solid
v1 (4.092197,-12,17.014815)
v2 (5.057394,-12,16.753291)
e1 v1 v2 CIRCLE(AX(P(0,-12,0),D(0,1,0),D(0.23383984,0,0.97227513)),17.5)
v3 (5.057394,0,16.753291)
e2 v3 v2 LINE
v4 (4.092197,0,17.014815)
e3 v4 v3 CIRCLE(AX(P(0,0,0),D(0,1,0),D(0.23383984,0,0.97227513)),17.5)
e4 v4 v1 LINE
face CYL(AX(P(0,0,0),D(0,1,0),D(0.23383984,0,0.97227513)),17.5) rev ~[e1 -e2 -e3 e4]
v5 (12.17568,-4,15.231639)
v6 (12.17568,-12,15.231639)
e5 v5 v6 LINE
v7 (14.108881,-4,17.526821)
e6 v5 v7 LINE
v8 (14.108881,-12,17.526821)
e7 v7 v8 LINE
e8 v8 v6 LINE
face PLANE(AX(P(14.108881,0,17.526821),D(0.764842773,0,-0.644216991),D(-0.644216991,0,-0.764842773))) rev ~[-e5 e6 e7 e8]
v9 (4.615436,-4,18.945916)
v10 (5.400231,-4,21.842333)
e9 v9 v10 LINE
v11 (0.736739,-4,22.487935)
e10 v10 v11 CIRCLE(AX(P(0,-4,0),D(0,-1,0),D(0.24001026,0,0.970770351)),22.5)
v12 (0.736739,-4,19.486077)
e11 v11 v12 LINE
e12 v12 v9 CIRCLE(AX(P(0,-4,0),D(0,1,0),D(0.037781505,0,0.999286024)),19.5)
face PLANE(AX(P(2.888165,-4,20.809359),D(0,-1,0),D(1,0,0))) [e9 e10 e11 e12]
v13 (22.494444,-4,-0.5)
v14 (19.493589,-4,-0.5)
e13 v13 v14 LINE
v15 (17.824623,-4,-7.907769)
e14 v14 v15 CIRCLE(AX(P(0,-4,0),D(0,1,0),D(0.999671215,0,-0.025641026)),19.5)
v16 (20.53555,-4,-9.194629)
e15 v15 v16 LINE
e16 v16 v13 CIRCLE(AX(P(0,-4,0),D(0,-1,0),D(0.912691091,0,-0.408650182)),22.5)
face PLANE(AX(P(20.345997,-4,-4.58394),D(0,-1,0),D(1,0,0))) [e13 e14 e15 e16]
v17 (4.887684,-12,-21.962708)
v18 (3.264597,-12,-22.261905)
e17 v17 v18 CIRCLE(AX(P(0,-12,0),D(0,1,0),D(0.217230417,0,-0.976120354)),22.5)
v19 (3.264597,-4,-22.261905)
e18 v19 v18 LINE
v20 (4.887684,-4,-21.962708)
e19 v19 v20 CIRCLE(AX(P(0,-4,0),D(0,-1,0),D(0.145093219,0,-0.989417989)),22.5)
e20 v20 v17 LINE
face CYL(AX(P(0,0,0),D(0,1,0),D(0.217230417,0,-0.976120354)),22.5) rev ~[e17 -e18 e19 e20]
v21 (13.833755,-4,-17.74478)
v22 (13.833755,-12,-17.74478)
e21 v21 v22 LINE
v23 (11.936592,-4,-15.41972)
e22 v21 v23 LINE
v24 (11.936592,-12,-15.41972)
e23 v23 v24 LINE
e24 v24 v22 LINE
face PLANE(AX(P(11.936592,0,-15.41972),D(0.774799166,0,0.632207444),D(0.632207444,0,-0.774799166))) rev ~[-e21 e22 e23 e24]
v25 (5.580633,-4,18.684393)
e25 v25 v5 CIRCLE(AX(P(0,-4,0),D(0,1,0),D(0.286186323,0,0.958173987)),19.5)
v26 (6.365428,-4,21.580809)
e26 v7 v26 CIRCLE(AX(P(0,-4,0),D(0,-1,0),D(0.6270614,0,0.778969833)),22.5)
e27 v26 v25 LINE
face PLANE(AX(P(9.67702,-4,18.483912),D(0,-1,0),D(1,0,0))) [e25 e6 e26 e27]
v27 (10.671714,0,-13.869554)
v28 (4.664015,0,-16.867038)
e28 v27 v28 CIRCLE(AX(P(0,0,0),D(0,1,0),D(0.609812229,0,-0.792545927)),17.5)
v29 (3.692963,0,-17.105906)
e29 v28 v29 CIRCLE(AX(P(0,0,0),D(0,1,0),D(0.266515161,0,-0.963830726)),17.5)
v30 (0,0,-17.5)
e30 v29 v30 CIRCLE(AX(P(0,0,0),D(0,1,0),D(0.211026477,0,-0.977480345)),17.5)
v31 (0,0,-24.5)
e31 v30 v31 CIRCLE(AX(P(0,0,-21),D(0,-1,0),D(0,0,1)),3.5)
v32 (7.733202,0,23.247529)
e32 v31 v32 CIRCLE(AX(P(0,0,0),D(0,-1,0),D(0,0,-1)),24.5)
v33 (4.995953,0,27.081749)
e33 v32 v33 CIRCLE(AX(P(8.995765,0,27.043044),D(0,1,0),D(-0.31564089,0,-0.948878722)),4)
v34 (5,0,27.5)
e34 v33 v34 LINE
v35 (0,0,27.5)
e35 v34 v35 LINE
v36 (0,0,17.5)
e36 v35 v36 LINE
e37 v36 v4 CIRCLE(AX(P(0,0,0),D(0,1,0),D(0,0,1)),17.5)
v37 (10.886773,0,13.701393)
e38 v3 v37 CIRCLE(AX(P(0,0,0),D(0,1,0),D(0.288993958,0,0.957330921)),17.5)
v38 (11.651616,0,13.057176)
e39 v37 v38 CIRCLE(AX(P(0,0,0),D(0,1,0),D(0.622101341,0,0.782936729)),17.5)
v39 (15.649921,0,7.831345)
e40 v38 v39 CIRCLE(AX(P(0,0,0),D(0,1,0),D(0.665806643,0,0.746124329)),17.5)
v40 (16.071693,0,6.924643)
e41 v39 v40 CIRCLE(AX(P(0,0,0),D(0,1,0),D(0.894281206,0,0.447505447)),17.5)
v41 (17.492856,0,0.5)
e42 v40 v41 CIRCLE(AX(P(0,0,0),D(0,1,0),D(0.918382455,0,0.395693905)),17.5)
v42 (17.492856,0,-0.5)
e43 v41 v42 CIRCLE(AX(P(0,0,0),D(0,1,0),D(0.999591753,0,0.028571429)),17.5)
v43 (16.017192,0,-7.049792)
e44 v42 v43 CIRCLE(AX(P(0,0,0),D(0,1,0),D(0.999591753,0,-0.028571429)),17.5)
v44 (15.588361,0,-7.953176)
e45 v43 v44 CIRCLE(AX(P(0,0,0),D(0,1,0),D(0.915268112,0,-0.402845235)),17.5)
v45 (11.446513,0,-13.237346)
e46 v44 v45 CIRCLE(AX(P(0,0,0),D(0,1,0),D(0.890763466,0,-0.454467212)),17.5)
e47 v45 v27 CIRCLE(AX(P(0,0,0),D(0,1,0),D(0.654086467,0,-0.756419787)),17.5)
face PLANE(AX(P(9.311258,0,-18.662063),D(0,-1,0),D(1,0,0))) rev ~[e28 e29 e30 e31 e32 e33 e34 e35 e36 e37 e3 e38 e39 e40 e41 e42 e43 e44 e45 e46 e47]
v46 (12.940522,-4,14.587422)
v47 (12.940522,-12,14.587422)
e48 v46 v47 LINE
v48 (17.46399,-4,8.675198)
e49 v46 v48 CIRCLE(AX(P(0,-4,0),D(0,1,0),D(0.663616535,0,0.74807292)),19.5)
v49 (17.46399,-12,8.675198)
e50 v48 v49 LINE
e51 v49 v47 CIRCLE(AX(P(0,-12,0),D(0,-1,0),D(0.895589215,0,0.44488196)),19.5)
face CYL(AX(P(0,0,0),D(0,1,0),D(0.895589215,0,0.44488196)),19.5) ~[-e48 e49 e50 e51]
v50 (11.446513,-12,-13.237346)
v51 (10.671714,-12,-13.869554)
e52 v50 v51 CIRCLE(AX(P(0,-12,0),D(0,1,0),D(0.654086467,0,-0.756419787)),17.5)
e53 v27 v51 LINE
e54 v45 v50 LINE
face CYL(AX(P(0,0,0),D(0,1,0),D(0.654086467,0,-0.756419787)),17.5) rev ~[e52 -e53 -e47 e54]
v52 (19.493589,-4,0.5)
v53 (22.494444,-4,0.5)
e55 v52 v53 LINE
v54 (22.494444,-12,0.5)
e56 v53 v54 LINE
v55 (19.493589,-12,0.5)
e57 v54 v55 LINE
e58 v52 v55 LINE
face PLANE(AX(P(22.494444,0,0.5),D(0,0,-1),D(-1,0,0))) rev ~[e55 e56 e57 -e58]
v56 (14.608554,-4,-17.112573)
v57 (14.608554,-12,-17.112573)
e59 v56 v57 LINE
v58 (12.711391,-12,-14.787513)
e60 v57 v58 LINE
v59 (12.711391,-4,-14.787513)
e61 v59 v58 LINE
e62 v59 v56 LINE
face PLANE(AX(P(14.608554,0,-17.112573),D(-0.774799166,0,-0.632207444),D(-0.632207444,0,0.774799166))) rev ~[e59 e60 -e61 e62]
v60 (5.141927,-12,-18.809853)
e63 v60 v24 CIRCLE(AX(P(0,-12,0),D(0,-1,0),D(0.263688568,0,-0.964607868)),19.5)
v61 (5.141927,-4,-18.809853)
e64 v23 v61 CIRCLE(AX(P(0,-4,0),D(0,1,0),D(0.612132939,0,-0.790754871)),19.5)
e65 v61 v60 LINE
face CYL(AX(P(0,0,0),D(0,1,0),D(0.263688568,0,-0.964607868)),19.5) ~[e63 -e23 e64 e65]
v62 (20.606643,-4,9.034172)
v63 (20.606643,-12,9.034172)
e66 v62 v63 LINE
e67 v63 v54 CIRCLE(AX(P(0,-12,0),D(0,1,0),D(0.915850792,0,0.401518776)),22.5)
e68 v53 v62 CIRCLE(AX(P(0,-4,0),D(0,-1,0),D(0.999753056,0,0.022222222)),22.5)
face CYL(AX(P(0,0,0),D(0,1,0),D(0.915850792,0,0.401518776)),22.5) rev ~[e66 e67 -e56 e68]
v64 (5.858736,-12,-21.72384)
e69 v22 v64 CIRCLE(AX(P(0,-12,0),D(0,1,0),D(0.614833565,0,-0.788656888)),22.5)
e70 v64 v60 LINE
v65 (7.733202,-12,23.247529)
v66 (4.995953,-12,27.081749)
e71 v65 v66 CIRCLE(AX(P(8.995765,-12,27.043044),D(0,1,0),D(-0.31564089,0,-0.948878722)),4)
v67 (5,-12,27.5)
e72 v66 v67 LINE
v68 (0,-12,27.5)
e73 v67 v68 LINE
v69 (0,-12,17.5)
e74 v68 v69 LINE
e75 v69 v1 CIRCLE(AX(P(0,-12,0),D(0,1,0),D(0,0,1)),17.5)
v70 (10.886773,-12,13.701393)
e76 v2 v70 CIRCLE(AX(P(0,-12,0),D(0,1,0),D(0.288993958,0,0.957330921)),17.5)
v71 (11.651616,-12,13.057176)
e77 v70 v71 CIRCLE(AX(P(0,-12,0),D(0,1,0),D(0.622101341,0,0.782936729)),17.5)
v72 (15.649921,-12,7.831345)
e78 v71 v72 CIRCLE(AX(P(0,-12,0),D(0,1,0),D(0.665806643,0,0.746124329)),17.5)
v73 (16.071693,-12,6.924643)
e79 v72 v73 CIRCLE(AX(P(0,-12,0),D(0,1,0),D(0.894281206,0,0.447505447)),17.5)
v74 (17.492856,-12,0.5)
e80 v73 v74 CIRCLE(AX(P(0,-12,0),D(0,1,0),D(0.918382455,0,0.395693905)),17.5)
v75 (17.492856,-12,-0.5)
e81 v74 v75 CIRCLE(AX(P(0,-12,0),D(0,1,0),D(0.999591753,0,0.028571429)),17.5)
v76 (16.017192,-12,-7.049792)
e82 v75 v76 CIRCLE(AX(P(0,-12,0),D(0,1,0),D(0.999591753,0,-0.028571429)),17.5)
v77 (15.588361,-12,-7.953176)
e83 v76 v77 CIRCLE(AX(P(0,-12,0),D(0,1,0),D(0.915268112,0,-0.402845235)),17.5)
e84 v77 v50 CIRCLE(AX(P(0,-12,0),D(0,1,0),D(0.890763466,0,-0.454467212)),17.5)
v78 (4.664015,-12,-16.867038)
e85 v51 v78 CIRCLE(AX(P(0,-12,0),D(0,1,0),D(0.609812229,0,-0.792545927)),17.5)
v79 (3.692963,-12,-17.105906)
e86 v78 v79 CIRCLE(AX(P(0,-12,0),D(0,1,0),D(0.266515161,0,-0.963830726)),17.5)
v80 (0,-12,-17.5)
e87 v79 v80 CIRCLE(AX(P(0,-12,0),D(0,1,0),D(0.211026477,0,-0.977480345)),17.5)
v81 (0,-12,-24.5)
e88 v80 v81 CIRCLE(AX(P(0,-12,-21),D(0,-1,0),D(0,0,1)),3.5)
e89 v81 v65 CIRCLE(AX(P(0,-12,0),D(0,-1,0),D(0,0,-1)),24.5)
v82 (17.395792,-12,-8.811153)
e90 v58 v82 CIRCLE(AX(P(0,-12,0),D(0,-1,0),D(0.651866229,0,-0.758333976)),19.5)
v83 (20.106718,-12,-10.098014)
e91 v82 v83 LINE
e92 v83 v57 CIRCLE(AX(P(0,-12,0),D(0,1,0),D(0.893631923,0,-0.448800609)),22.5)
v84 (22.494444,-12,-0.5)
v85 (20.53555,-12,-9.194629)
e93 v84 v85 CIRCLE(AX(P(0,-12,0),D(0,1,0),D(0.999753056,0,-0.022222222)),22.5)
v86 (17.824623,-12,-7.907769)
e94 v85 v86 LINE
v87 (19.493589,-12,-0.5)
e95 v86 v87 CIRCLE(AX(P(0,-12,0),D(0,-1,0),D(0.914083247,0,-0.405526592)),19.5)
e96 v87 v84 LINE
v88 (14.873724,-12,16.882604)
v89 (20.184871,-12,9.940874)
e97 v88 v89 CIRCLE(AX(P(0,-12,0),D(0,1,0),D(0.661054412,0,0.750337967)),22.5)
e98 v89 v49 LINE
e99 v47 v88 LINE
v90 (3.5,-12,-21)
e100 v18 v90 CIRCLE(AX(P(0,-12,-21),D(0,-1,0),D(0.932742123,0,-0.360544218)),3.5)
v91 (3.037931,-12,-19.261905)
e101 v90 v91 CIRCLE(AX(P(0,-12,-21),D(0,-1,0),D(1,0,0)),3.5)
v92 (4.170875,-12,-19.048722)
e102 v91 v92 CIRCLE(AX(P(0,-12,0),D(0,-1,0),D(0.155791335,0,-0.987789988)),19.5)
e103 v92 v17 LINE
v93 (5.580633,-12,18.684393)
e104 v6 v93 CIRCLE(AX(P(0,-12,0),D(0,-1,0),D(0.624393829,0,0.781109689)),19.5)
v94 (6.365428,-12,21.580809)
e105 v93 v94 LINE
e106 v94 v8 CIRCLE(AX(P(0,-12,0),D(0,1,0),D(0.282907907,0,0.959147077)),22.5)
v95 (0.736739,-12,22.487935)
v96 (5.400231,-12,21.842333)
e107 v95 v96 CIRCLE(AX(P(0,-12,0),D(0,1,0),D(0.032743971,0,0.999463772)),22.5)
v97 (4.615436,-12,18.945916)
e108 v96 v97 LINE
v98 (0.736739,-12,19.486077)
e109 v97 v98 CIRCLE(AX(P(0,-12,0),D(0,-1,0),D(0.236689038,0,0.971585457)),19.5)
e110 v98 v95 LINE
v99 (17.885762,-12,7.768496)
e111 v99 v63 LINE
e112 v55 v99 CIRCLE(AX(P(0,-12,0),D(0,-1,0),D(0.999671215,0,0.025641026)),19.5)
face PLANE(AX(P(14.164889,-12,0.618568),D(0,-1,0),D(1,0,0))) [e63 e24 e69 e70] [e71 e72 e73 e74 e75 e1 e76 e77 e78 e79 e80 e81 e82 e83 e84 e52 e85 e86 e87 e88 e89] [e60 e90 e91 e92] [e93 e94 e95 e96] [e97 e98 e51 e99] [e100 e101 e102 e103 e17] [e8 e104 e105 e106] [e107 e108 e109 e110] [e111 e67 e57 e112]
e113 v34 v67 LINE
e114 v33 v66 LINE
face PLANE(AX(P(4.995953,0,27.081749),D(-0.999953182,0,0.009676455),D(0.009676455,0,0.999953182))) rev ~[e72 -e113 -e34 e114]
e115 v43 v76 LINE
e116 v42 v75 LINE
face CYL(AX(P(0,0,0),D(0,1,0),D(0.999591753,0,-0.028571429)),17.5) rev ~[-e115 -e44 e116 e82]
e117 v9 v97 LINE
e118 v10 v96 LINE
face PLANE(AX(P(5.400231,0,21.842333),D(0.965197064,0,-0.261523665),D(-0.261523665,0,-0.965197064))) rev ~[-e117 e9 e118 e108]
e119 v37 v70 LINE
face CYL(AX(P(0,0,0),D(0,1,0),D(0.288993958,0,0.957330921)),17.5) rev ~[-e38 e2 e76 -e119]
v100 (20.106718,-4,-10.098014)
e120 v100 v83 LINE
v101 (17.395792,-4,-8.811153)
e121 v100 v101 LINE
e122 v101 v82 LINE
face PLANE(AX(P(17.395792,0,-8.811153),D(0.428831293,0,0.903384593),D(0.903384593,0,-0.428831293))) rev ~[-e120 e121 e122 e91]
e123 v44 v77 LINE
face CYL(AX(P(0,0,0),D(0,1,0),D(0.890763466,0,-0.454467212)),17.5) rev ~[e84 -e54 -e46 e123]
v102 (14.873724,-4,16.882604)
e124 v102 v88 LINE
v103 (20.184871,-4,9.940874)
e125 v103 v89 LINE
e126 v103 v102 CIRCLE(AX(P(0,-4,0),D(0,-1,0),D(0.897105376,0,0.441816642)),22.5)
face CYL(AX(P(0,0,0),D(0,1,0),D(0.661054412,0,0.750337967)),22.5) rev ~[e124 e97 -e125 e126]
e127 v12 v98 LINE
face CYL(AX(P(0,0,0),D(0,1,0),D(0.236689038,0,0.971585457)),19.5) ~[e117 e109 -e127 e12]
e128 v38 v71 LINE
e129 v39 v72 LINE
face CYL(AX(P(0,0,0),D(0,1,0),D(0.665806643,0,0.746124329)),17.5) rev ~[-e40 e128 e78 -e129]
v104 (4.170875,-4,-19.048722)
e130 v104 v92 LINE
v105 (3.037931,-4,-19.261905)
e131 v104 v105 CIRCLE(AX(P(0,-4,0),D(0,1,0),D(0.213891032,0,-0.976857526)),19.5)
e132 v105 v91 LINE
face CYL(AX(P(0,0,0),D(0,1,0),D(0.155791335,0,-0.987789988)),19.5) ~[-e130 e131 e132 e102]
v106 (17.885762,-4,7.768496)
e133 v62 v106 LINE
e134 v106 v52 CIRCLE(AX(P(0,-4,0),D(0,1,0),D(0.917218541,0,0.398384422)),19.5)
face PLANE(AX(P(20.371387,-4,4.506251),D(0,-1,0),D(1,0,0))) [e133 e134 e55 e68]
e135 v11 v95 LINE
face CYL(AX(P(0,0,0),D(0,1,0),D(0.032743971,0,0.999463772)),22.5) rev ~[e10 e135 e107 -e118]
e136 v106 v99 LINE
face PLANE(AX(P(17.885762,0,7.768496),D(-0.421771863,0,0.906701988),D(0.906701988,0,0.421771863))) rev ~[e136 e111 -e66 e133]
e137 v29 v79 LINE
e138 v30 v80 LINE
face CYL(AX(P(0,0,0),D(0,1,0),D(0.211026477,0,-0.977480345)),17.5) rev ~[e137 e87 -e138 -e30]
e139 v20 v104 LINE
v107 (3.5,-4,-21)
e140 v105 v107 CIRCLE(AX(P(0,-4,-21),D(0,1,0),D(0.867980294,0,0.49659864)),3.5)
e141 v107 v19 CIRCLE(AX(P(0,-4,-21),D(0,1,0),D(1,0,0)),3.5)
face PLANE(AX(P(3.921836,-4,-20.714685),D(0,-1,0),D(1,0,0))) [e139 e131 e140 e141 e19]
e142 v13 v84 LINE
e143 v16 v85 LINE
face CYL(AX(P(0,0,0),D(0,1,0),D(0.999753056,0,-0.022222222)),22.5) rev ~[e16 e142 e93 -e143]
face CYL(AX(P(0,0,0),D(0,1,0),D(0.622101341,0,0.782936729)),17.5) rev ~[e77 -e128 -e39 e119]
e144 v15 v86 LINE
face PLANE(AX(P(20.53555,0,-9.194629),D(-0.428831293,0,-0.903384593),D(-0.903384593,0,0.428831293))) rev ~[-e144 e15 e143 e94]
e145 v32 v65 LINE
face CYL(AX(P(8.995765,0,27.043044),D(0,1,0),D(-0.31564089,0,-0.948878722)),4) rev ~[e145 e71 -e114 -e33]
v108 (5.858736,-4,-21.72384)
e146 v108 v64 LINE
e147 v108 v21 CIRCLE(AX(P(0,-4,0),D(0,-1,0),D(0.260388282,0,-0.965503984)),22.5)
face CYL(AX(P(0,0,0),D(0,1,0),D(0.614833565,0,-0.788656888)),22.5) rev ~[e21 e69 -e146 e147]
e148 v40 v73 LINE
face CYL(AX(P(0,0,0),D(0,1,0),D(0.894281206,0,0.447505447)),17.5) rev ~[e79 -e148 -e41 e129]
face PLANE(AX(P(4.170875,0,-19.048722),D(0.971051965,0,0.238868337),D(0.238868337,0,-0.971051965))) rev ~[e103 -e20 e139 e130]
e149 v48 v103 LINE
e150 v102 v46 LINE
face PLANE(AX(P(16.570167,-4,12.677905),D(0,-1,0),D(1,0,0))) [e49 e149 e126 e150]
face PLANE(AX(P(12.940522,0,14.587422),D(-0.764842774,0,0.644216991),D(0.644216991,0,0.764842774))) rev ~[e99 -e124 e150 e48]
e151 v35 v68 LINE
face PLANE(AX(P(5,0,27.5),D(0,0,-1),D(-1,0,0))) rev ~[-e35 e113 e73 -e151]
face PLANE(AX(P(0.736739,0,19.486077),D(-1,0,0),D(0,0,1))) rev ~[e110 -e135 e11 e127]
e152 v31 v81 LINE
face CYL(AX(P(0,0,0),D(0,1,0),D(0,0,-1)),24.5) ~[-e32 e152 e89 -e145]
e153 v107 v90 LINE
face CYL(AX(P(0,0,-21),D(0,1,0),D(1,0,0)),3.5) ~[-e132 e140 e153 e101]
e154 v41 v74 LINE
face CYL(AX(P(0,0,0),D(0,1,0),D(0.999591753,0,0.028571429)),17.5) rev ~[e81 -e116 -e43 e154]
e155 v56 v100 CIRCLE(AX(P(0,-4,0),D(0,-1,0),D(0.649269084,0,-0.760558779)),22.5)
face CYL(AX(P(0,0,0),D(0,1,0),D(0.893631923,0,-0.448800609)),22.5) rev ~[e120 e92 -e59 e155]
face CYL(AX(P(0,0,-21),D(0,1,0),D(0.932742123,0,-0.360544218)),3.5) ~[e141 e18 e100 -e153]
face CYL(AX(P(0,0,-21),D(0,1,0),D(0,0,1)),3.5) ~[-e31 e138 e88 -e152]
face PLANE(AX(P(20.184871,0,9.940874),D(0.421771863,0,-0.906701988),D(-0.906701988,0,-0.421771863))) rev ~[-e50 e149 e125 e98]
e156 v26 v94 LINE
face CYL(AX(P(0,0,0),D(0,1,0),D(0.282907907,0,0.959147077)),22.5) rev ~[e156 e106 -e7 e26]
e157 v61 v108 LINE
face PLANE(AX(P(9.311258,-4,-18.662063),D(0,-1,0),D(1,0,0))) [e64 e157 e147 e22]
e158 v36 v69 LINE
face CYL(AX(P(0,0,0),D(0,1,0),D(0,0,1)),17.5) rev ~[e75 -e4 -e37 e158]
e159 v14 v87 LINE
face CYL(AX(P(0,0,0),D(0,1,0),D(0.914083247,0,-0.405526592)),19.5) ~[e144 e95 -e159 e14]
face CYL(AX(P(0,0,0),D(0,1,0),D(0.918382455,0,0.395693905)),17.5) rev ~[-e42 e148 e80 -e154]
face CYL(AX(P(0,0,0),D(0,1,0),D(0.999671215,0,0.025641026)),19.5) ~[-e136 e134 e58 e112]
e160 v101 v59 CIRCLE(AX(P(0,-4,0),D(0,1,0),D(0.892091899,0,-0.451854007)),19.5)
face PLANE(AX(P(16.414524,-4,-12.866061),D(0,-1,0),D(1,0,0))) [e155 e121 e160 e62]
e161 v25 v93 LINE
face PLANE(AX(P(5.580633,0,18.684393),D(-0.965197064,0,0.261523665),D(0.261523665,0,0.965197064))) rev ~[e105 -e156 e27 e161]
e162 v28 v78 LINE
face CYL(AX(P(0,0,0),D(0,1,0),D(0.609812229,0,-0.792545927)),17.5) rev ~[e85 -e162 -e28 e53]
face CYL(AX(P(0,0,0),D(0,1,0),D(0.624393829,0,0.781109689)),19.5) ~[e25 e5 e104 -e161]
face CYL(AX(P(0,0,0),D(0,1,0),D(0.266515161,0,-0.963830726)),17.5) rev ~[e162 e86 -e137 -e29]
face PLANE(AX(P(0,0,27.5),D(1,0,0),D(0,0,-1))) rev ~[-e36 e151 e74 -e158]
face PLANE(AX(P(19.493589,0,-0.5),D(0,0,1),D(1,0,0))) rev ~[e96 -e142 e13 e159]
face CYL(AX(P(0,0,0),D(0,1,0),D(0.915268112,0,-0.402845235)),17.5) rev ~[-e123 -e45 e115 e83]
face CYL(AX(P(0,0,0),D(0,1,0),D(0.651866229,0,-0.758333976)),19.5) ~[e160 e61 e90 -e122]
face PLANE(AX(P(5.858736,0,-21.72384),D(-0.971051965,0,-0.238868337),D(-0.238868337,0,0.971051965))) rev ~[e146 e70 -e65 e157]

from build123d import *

# Parameters (mm, degrees)
F1_DEPTH = 12
F2_DEPTH = 4


with BuildPart() as f1:
    # F0 (on Front) → F1 (new body)
    with BuildSketch(Plane.XZ):
        with BuildLine():
            ThreePointArc((3.2645974288, -22.2619047619), (1.9790570145, -23.8867513459), (0, -24.5))
            ThreePointArc((0, -24.5), (24.1848553106, -3.91698527), (7.7332017966, 23.2475286853))
            ThreePointArc((7.7332017966, 23.2475286853), (5.7402372634, 24.7189229124), (4.9959526272, 27.0817493941))
            Line((4.9959526272, 27.0817493941), (5, 27.5))
            Line((5, 27.5), (0, 27.5))
            Line((0, 27.5), (0, 22.5))
            ThreePointArc((0, 22.5), (0.3684190635, 22.4969835177), (0.7367393421, 22.4879348794))
            ThreePointArc((0.7367393421, 22.4879348794), (3.0854175192, 22.2874448677), (5.4002308519, 21.8423329053))
            ThreePointArc((5.4002308519, 21.8423329053), (5.8842824725, 21.7169339407), (6.3654279159, 21.5808092399))
            ThreePointArc((6.3654279159, 21.5808092399), (10.4359015463, 19.9334382111), (14.1088814913, 17.5268212481))
            Line((14.1088814913, 17.5268212481), (15.390053392, 19.0478849319))
            Line((15.390053392, 19.0478849319), (16.1548961655, 18.4036679406))
            Line((16.1548961655, 18.4036679406), (14.8737242648, 16.8826042569))
            ThreePointArc((14.8737242648, 16.8826042569), (17.8696160512, 13.6721184234), (20.1848709505, 9.940874444))
            Line((20.1848709505, 9.940874444), (21.9880539238, 10.7796636511))
            Line((21.9880539238, 10.7796636511), (22.4098257867, 9.8729616628))
            Line((22.4098257867, 9.8729616628), (20.6066428134, 9.0341724557))
            ThreePointArc((20.6066428134, 9.0341724557), (21.968931262, 4.8596357071), (22.4944437584, 0.5))
            Line((22.4944437584, 0.5), (24.4831710321, 0.5))
            Line((24.4831710321, 0.5), (24.4831710321, -0.5))
            Line((24.4831710321, -0.5), (22.4944437584, -0.5))
            ThreePointArc((22.4944437584, -0.5), (21.9498115027, -4.9452780503), (20.5355495573, -9.1946291051))
            Line((20.5355495573, -9.1946291051), (22.3321351352, -10.0474575933))
            Line((22.3321351352, -10.0474575933), (21.9033038423, -10.9508421859))
            Line((21.9033038423, -10.9508421859), (20.1067182643, -10.0980136977))
            ThreePointArc((20.1067182643, -10.0980136977), (17.708431542, -13.8802540438), (14.6085543834, -17.1125725368))
            Line((14.6085543834, -17.1125725368), (15.8658425706, -18.6534367694))
            Line((15.8658425706, -18.6534367694), (15.0910434049, -19.2856442137))
            Line((15.0910434049, -19.2856442137), (13.8337552177, -17.7447799811))
            ThreePointArc((13.8337552177, -17.7447799811), (10.0452369261, -20.1331372393), (5.8587363435, -21.7238396343))
            Line((5.8587363435, -21.7238396343), (6.3337803191, -23.6549971603))
            Line((6.3337803191, -23.6549971603), (5.3627283546, -23.8938654968))
            Line((5.3627283546, -23.8938654968), (4.887684379, -21.9627079708))
            ThreePointArc((4.887684379, -21.9627079708), (4.0788851845, -22.1271935783), (3.2645974288, -22.2619047619))
        make_face()
        with BuildLine():
            Line((15.390053392, 19.0478849319), (14.1088814913, 17.5268212481))
            ThreePointArc((14.1088814913, 17.5268212481), (14.4948823033, 17.2089624038), (14.8737242648, 16.8826042569))
            Line((14.8737242648, 16.8826042569), (16.1548961655, 18.4036679406))
            Line((16.1548961655, 18.4036679406), (15.390053392, 19.0478849319))
        make_face()
        with BuildLine():
            Line((21.9880539238, 10.7796636511), (20.1848709505, 9.940874444))
            ThreePointArc((20.1848709505, 9.940874444), (20.4007947373, 9.4898669162), (20.6066428134, 9.0341724557))
            Line((20.6066428134, 9.0341724557), (22.4098257867, 9.8729616628))
            Line((22.4098257867, 9.8729616628), (21.9880539238, 10.7796636511))
        make_face()
        with BuildLine():
            ThreePointArc((22.4944437584, 0.5), (22.5, 0), (22.4944437584, -0.5))
            Line((22.4944437584, -0.5), (24.4831710321, -0.5))
            Line((24.4831710321, -0.5), (24.4831710321, 0.5))
            Line((24.4831710321, 0.5), (22.4944437584, 0.5))
        make_face()
        with BuildLine():
            ThreePointArc((20.5355495573, -9.1946291051), (20.3261533338, -9.6487040917), (20.1067182643, -10.0980136977))
            Line((20.1067182643, -10.0980136977), (21.9033038423, -10.9508421859))
            Line((21.9033038423, -10.9508421859), (22.3321351352, -10.0474575933))
            Line((22.3321351352, -10.0474575933), (20.5355495573, -9.1946291051))
        make_face()
        with BuildLine():
            ThreePointArc((14.6085543834, -17.1125725368), (14.2246674978, -17.4329812303), (13.8337552177, -17.7447799811))
            Line((13.8337552177, -17.7447799811), (15.0910434049, -19.2856442137))
            Line((15.0910434049, -19.2856442137), (15.8658425706, -18.6534367694))
            Line((15.8658425706, -18.6534367694), (14.6085543834, -17.1125725368))
        make_face()
        with BuildLine():
            ThreePointArc((5.8587363435, -21.7238396343), (5.3745375714, -21.8486692019), (4.887684379, -21.9627079708))
            Line((4.887684379, -21.9627079708), (5.3627283546, -23.8938654968))
            Line((5.3627283546, -23.8938654968), (6.3337803191, -23.6549971603))
            Line((6.3337803191, -23.6549971603), (5.8587363435, -21.7238396343))
        make_face()
        with BuildLine():
            ThreePointArc((10.6717140038, -13.8695537139), (7.8129620537, -15.6591067417), (4.6640153204, -16.8670377094))
            Line((4.6640153204, -16.8670377094), (5.1419270851, -18.8098534245))
            ThreePointArc((5.1419270851, -18.8098534245), (8.7058720027, -17.4487189408), (11.9365923038, -15.4197199772))
            Line((11.9365923038, -15.4197199772), (10.6717140038, -13.8695537139))
        make_face()
        with BuildLine():
            ThreePointArc((4.6640153204, -16.8670377094), (4.1801958889, -16.9934093792), (3.6929633559, -17.1059060459))
            Line((3.6929633559, -17.1059060459), (4.1708751206, -19.048721761))
            ThreePointArc((4.1708751206, -19.048721761), (4.6579325619, -18.9355133083), (5.1419270851, -18.8098534245))
            Line((5.1419270851, -18.8098534245), (4.6640153204, -16.8670377094))
        make_face()
        with BuildLine():
            ThreePointArc((3.6929633559, -17.1059060459), (1.8569658312, -17.4011975996), (0, -17.5))
            ThreePointArc((0, -17.5), (1.7559422921, -17.9723496459), (3.03793103, -19.2619047619))
            ThreePointArc((3.03793103, -19.2619047619), (3.6059788237, -19.1636874511), (4.1708751206, -19.048721761))
            Line((4.1708751206, -19.048721761), (3.6929633559, -17.1059060459))
        make_face()
        with BuildLine():
            ThreePointArc((0, -17.5), (-3.5, -21), (0, -24.5))
            ThreePointArc((0, -24.5), (1.9790570145, -23.8867513459), (3.2645974288, -22.2619047619))
            ThreePointArc((3.2645974288, -22.2619047619), (3.4406460876, -21.641836817), (3.5, -21))
            ThreePointArc((3.5, -21), (3.3825107986, -20.1007666057), (3.03793103, -19.2619047619))
            ThreePointArc((3.03793103, -19.2619047619), (1.7559422921, -17.9723496459), (0, -17.5))
        make_face()
        with BuildLine():
            ThreePointArc((11.4465131696, -13.2373462695), (11.0636302761, -13.5589854013), (10.6717140038, -13.8695537139))
            Line((10.6717140038, -13.8695537139), (11.9365923038, -15.4197199772))
            ThreePointArc((11.9365923038, -15.4197199772), (12.3280451648, -15.1085837329), (12.7113914695, -14.7875125328))
            Line((12.7113914695, -14.7875125328), (11.4465131696, -13.2373462695))
        make_face()
        with BuildLine():
            Line((4.1708751206, -19.048721761), (4.887684379, -21.9627079708))
            ThreePointArc((4.887684379, -21.9627079708), (5.3745375714, -21.8486692019), (5.8587363435, -21.7238396343))
            Line((5.8587363435, -21.7238396343), (5.1419270851, -18.8098534245))
            ThreePointArc((5.1419270851, -18.8098534245), (4.6579325619, -18.9355133083), (4.1708751206, -19.048721761))
        make_face()
        with BuildLine():
            Line((11.9365923038, -15.4197199772), (13.8337552177, -17.7447799811))
            ThreePointArc((13.8337552177, -17.7447799811), (14.2246674978, -17.4329812303), (14.6085543834, -17.1125725368))
            Line((14.6085543834, -17.1125725368), (12.7113914695, -14.7875125328))
            ThreePointArc((12.7113914695, -14.7875125328), (12.3280451648, -15.1085837329), (11.9365923038, -15.4197199772))
        make_face()
        with BuildLine():
            ThreePointArc((15.5883606598, -7.9531762171), (13.7732245327, -10.7957531452), (11.4465131696, -13.2373462695))
            Line((11.4465131696, -13.2373462695), (12.7113914695, -14.7875125328))
            ThreePointArc((12.7113914695, -14.7875125328), (15.3473073364, -12.0295535047), (17.3957920305, -8.8111531386))
            Line((17.3957920305, -8.8111531386), (15.5883606598, -7.9531762171))
        make_face()
        with BuildLine():
            ThreePointArc((16.0171919527, -7.0497916245), (15.8092303708, -7.5045476269), (15.5883606598, -7.9531762171))
            Line((15.5883606598, -7.9531762171), (17.3957920305, -8.8111531386))
            ThreePointArc((17.3957920305, -8.8111531386), (17.615999556, -8.3622102128), (17.8246233235, -7.907768546))
            Line((17.8246233235, -7.907768546), (16.0171919527, -7.0497916245))
        make_face()
        with BuildLine():
            ThreePointArc((17.4928556845, -0.5), (17.0720756132, -3.8463273724), (16.0171919527, -7.0497916245))
            Line((16.0171919527, -7.0497916245), (17.8246233235, -7.907768546))
            ThreePointArc((17.8246233235, -7.907768546), (19.023169969, -4.2859076436), (19.4935886896, -0.5))
            Line((19.4935886896, -0.5), (17.4928556845, -0.5))
        make_face()
        with BuildLine():
            ThreePointArc((17.4928556845, 0.5), (17.5, 0), (17.4928556845, -0.5))
            Line((17.4928556845, -0.5), (19.4935886896, -0.5))
            ThreePointArc((19.4935886896, -0.5), (19.5, 0), (19.4935886896, 0.5))
            Line((19.4935886896, 0.5), (17.4928556845, 0.5))
        make_face()
        with BuildLine():
            ThreePointArc((16.0716929621, 6.9246433361), (17.0869465371, 3.7797166611), (17.4928556845, 0.5))
            Line((17.4928556845, 0.5), (19.4935886896, 0.5))
            ThreePointArc((19.4935886896, 0.5), (19.0397404271, 4.2116842795), (17.8857615559, 7.7684962229))
            Line((17.8857615559, 7.7684962229), (16.0716929621, 6.9246433361))
        make_face()
        with BuildLine():
            Line((17.3957920305, -8.8111531386), (20.1067182643, -10.0980136977))
            ThreePointArc((20.1067182643, -10.0980136977), (20.3261533338, -9.6487040917), (20.5355495573, -9.1946291051))
            Line((20.5355495573, -9.1946291051), (17.8246233235, -7.907768546))
            ThreePointArc((17.8246233235, -7.907768546), (17.615999556, -8.3622102128), (17.3957920305, -8.8111531386))
        make_face()
        with BuildLine():
            Line((19.4935886896, -0.5), (22.4944437584, -0.5))
            ThreePointArc((22.4944437584, -0.5), (22.5, 0), (22.4944437584, 0.5))
            Line((22.4944437584, 0.5), (19.4935886896, 0.5))
            ThreePointArc((19.4935886896, 0.5), (19.5, 0), (19.4935886896, -0.5))
        make_face()
        with BuildLine():
            Line((17.463989693, 8.6751982112), (15.6499210991, 7.8313453244))
            ThreePointArc((15.6499210991, 7.8313453244), (15.8672847957, 7.3810076015), (16.0716929621, 6.9246433361))
            Line((16.0716929621, 6.9246433361), (17.8857615559, 7.7684962229))
            ThreePointArc((17.8857615559, 7.7684962229), (17.6806887723, 8.2245513274), (17.463989693, 8.6751982112))
        make_face()
        with BuildLine():
            Line((20.1848709505, 9.940874444), (17.463989693, 8.6751982112))
            ThreePointArc((17.463989693, 8.6751982112), (17.6806887723, 8.2245513274), (17.8857615559, 7.7684962229))
            Line((17.8857615559, 7.7684962229), (20.6066428134, 9.0341724557))
            ThreePointArc((20.6066428134, 9.0341724557), (20.4007947373, 9.4898669162), (20.1848709505, 9.940874444))
        make_face()
        with BuildLine():
            Line((12.9405224412, 14.5874219432), (11.6516162443, 13.0571757626))
            ThreePointArc((11.6516162443, 13.0571757626), (13.898590262, 10.6338698849), (15.6499210991, 7.8313453244))
            Line((15.6499210991, 7.8313453244), (17.463989693, 8.6751982112))
            ThreePointArc((17.463989693, 8.6751982112), (15.4870005777, 11.8491693003), (12.9405224412, 14.5874219432))
        make_face()
        with BuildLine():
            Line((12.1756796677, 15.2316389345), (10.8867734708, 13.7013927538))
            ThreePointArc((10.8867734708, 13.7013927538), (11.273797347, 13.3847485363), (11.6516162443, 13.0571757626))
            Line((11.6516162443, 13.0571757626), (12.9405224412, 14.5874219432))
            ThreePointArc((12.9405224412, 14.5874219432), (12.5622313295, 14.9144340833), (12.1756796677, 15.2316389345))
        make_face()
        with BuildLine():
            Line((14.1088814913, 17.5268212481), (12.1756796677, 15.2316389345))
            ThreePointArc((12.1756796677, 15.2316389345), (12.5622313295, 14.9144340833), (12.9405224412, 14.5874219432))
            Line((12.9405224412, 14.5874219432), (14.8737242648, 16.8826042569))
            ThreePointArc((14.8737242648, 16.8826042569), (14.4948823033, 17.2089624038), (14.1088814913, 17.5268212481))
        make_face()
        with BuildLine():
            Line((5.5806332988, 18.6843927379), (5.0573942698, 16.7532911155))
            ThreePointArc((5.0573942698, 16.7532911155), (8.1168123138, 15.5037852753), (10.8867734708, 13.7013927538))
            Line((10.8867734708, 13.7013927538), (12.1756796677, 15.2316389345))
            ThreePointArc((12.1756796677, 15.2316389345), (9.0444480068, 17.2756464496), (5.5806332988, 18.6843927379))
        make_face()
        with BuildLine():
            Line((5.4002308519, 21.8423329053), (4.6154362348, 18.9459164033))
            ThreePointArc((4.6154362348, 18.9459164033), (5.0997114762, 18.8213427486), (5.5806332988, 18.6843927379))
            Line((5.5806332988, 18.6843927379), (6.3654279159, 21.5808092399))
            ThreePointArc((6.3654279159, 21.5808092399), (5.8842824725, 21.7169339407), (5.4002308519, 21.8423329053))
        make_face()
        with BuildLine():
            Line((4.6154362348, 18.9459164033), (4.0921972057, 17.0148147809))
            ThreePointArc((4.0921972057, 17.0148147809), (4.5766641453, 16.8909486205), (5.0573942698, 16.7532911155))
            Line((5.0573942698, 16.7532911155), (5.5806332988, 18.6843927379))
            ThreePointArc((5.5806332988, 18.6843927379), (5.0997114762, 18.8213427486), (4.6154362348, 18.9459164033))
        make_face()
        with BuildLine():
            Line((0, 19.5), (0, 17.5))
            ThreePointArc((0, 17.5), (2.0604297287, 17.3782803906), (4.0921972057, 17.0148147809))
            Line((4.0921972057, 17.0148147809), (4.6154362348, 18.9459164033))
            ThreePointArc((4.6154362348, 18.9459164033), (2.6896820158, 19.3136120561), (0.7367393421, 19.4860774694))
            ThreePointArc((0.7367393421, 19.4860774694), (0.3684354404, 19.4965190566), (0, 19.5))
        make_face()
        with BuildLine():
            Line((0, 22.5), (0, 19.5))
            ThreePointArc((0, 19.5), (0.3684354404, 19.4965190566), (0.7367393421, 19.4860774694))
            Line((0.7367393421, 19.4860774694), (0.7367393421, 22.4879348794))
            ThreePointArc((0.7367393421, 22.4879348794), (0.3684190635, 22.4969835177), (0, 22.5))
        make_face()
    extrude(amount=F1_DEPTH)

    # F0 (on Front) → F2 (join)
    with BuildSketch(Plane.XZ):
        with BuildLine():
            Line((5.1419270851, -18.8098534245), (5.8587363435, -21.7238396343))
            ThreePointArc((5.8587363435, -21.7238396343), (10.0452369261, -20.1331372393), (13.8337552177, -17.7447799811))
            Line((13.8337552177, -17.7447799811), (11.9365923038, -15.4197199772))
            ThreePointArc((11.9365923038, -15.4197199772), (8.7058720027, -17.4487189408), (5.1419270851, -18.8098534245))
        make_face()
        with BuildLine():
            Line((19.4935886896, 0.5), (22.4944437584, 0.5))
            ThreePointArc((22.4944437584, 0.5), (21.968931262, 4.8596357071), (20.6066428134, 9.0341724557))
            Line((20.6066428134, 9.0341724557), (17.8857615559, 7.7684962229))
            ThreePointArc((17.8857615559, 7.7684962229), (19.0397404271, 4.2116842795), (19.4935886896, 0.5))
        make_face()
        with BuildLine():
            Line((14.8737242648, 16.8826042569), (12.9405224412, 14.5874219432))
            ThreePointArc((12.9405224412, 14.5874219432), (15.4870005777, 11.8491693003), (17.463989693, 8.6751982112))
            Line((17.463989693, 8.6751982112), (20.1848709505, 9.940874444))
            ThreePointArc((20.1848709505, 9.940874444), (17.8696160512, 13.6721184234), (14.8737242648, 16.8826042569))
        make_face()
        with BuildLine():
            Line((17.8246233235, -7.907768546), (20.5355495573, -9.1946291051))
            ThreePointArc((20.5355495573, -9.1946291051), (21.9498115027, -4.9452780503), (22.4944437584, -0.5))
            Line((22.4944437584, -0.5), (19.4935886896, -0.5))
            ThreePointArc((19.4935886896, -0.5), (19.023169969, -4.2859076436), (17.8246233235, -7.907768546))
        make_face()
        with BuildLine():
            Line((6.3654279159, 21.5808092399), (5.5806332988, 18.6843927379))
            ThreePointArc((5.5806332988, 18.6843927379), (9.0444480068, 17.2756464496), (12.1756796677, 15.2316389345))
            Line((12.1756796677, 15.2316389345), (14.1088814913, 17.5268212481))
            ThreePointArc((14.1088814913, 17.5268212481), (10.4359015463, 19.9334382111), (6.3654279159, 21.5808092399))
        make_face()
        with BuildLine():
            ThreePointArc((3.5, -21), (3.4406460876, -21.641836817), (3.2645974288, -22.2619047619))
            ThreePointArc((3.2645974288, -22.2619047619), (4.0788851845, -22.1271935783), (4.887684379, -21.9627079708))
            Line((4.887684379, -21.9627079708), (4.1708751206, -19.048721761))
            ThreePointArc((4.1708751206, -19.048721761), (3.6059788237, -19.1636874511), (3.03793103, -19.2619047619))
            ThreePointArc((3.03793103, -19.2619047619), (3.3825107986, -20.1007666057), (3.5, -21))
        make_face()
        with BuildLine():
            Line((12.7113914695, -14.7875125328), (14.6085543834, -17.1125725368))
            ThreePointArc((14.6085543834, -17.1125725368), (17.708431542, -13.8802540438), (20.1067182643, -10.0980136977))
            Line((20.1067182643, -10.0980136977), (17.3957920305, -8.8111531386))
            ThreePointArc((17.3957920305, -8.8111531386), (15.3473073364, -12.0295535047), (12.7113914695, -14.7875125328))
        make_face()
        with BuildLine():
            ThreePointArc((0.7367393421, 19.4860774694), (2.6896820158, 19.3136120561), (4.6154362348, 18.9459164033))
            Line((4.6154362348, 18.9459164033), (5.4002308519, 21.8423329053))
            ThreePointArc((5.4002308519, 21.8423329053), (3.0854175192, 22.2874448677), (0.7367393421, 22.4879348794))
            Line((0.7367393421, 22.4879348794), (0.7367393421, 19.4860774694))
        make_face()
    extrude(amount=F2_DEPTH)


solid = f1.part
